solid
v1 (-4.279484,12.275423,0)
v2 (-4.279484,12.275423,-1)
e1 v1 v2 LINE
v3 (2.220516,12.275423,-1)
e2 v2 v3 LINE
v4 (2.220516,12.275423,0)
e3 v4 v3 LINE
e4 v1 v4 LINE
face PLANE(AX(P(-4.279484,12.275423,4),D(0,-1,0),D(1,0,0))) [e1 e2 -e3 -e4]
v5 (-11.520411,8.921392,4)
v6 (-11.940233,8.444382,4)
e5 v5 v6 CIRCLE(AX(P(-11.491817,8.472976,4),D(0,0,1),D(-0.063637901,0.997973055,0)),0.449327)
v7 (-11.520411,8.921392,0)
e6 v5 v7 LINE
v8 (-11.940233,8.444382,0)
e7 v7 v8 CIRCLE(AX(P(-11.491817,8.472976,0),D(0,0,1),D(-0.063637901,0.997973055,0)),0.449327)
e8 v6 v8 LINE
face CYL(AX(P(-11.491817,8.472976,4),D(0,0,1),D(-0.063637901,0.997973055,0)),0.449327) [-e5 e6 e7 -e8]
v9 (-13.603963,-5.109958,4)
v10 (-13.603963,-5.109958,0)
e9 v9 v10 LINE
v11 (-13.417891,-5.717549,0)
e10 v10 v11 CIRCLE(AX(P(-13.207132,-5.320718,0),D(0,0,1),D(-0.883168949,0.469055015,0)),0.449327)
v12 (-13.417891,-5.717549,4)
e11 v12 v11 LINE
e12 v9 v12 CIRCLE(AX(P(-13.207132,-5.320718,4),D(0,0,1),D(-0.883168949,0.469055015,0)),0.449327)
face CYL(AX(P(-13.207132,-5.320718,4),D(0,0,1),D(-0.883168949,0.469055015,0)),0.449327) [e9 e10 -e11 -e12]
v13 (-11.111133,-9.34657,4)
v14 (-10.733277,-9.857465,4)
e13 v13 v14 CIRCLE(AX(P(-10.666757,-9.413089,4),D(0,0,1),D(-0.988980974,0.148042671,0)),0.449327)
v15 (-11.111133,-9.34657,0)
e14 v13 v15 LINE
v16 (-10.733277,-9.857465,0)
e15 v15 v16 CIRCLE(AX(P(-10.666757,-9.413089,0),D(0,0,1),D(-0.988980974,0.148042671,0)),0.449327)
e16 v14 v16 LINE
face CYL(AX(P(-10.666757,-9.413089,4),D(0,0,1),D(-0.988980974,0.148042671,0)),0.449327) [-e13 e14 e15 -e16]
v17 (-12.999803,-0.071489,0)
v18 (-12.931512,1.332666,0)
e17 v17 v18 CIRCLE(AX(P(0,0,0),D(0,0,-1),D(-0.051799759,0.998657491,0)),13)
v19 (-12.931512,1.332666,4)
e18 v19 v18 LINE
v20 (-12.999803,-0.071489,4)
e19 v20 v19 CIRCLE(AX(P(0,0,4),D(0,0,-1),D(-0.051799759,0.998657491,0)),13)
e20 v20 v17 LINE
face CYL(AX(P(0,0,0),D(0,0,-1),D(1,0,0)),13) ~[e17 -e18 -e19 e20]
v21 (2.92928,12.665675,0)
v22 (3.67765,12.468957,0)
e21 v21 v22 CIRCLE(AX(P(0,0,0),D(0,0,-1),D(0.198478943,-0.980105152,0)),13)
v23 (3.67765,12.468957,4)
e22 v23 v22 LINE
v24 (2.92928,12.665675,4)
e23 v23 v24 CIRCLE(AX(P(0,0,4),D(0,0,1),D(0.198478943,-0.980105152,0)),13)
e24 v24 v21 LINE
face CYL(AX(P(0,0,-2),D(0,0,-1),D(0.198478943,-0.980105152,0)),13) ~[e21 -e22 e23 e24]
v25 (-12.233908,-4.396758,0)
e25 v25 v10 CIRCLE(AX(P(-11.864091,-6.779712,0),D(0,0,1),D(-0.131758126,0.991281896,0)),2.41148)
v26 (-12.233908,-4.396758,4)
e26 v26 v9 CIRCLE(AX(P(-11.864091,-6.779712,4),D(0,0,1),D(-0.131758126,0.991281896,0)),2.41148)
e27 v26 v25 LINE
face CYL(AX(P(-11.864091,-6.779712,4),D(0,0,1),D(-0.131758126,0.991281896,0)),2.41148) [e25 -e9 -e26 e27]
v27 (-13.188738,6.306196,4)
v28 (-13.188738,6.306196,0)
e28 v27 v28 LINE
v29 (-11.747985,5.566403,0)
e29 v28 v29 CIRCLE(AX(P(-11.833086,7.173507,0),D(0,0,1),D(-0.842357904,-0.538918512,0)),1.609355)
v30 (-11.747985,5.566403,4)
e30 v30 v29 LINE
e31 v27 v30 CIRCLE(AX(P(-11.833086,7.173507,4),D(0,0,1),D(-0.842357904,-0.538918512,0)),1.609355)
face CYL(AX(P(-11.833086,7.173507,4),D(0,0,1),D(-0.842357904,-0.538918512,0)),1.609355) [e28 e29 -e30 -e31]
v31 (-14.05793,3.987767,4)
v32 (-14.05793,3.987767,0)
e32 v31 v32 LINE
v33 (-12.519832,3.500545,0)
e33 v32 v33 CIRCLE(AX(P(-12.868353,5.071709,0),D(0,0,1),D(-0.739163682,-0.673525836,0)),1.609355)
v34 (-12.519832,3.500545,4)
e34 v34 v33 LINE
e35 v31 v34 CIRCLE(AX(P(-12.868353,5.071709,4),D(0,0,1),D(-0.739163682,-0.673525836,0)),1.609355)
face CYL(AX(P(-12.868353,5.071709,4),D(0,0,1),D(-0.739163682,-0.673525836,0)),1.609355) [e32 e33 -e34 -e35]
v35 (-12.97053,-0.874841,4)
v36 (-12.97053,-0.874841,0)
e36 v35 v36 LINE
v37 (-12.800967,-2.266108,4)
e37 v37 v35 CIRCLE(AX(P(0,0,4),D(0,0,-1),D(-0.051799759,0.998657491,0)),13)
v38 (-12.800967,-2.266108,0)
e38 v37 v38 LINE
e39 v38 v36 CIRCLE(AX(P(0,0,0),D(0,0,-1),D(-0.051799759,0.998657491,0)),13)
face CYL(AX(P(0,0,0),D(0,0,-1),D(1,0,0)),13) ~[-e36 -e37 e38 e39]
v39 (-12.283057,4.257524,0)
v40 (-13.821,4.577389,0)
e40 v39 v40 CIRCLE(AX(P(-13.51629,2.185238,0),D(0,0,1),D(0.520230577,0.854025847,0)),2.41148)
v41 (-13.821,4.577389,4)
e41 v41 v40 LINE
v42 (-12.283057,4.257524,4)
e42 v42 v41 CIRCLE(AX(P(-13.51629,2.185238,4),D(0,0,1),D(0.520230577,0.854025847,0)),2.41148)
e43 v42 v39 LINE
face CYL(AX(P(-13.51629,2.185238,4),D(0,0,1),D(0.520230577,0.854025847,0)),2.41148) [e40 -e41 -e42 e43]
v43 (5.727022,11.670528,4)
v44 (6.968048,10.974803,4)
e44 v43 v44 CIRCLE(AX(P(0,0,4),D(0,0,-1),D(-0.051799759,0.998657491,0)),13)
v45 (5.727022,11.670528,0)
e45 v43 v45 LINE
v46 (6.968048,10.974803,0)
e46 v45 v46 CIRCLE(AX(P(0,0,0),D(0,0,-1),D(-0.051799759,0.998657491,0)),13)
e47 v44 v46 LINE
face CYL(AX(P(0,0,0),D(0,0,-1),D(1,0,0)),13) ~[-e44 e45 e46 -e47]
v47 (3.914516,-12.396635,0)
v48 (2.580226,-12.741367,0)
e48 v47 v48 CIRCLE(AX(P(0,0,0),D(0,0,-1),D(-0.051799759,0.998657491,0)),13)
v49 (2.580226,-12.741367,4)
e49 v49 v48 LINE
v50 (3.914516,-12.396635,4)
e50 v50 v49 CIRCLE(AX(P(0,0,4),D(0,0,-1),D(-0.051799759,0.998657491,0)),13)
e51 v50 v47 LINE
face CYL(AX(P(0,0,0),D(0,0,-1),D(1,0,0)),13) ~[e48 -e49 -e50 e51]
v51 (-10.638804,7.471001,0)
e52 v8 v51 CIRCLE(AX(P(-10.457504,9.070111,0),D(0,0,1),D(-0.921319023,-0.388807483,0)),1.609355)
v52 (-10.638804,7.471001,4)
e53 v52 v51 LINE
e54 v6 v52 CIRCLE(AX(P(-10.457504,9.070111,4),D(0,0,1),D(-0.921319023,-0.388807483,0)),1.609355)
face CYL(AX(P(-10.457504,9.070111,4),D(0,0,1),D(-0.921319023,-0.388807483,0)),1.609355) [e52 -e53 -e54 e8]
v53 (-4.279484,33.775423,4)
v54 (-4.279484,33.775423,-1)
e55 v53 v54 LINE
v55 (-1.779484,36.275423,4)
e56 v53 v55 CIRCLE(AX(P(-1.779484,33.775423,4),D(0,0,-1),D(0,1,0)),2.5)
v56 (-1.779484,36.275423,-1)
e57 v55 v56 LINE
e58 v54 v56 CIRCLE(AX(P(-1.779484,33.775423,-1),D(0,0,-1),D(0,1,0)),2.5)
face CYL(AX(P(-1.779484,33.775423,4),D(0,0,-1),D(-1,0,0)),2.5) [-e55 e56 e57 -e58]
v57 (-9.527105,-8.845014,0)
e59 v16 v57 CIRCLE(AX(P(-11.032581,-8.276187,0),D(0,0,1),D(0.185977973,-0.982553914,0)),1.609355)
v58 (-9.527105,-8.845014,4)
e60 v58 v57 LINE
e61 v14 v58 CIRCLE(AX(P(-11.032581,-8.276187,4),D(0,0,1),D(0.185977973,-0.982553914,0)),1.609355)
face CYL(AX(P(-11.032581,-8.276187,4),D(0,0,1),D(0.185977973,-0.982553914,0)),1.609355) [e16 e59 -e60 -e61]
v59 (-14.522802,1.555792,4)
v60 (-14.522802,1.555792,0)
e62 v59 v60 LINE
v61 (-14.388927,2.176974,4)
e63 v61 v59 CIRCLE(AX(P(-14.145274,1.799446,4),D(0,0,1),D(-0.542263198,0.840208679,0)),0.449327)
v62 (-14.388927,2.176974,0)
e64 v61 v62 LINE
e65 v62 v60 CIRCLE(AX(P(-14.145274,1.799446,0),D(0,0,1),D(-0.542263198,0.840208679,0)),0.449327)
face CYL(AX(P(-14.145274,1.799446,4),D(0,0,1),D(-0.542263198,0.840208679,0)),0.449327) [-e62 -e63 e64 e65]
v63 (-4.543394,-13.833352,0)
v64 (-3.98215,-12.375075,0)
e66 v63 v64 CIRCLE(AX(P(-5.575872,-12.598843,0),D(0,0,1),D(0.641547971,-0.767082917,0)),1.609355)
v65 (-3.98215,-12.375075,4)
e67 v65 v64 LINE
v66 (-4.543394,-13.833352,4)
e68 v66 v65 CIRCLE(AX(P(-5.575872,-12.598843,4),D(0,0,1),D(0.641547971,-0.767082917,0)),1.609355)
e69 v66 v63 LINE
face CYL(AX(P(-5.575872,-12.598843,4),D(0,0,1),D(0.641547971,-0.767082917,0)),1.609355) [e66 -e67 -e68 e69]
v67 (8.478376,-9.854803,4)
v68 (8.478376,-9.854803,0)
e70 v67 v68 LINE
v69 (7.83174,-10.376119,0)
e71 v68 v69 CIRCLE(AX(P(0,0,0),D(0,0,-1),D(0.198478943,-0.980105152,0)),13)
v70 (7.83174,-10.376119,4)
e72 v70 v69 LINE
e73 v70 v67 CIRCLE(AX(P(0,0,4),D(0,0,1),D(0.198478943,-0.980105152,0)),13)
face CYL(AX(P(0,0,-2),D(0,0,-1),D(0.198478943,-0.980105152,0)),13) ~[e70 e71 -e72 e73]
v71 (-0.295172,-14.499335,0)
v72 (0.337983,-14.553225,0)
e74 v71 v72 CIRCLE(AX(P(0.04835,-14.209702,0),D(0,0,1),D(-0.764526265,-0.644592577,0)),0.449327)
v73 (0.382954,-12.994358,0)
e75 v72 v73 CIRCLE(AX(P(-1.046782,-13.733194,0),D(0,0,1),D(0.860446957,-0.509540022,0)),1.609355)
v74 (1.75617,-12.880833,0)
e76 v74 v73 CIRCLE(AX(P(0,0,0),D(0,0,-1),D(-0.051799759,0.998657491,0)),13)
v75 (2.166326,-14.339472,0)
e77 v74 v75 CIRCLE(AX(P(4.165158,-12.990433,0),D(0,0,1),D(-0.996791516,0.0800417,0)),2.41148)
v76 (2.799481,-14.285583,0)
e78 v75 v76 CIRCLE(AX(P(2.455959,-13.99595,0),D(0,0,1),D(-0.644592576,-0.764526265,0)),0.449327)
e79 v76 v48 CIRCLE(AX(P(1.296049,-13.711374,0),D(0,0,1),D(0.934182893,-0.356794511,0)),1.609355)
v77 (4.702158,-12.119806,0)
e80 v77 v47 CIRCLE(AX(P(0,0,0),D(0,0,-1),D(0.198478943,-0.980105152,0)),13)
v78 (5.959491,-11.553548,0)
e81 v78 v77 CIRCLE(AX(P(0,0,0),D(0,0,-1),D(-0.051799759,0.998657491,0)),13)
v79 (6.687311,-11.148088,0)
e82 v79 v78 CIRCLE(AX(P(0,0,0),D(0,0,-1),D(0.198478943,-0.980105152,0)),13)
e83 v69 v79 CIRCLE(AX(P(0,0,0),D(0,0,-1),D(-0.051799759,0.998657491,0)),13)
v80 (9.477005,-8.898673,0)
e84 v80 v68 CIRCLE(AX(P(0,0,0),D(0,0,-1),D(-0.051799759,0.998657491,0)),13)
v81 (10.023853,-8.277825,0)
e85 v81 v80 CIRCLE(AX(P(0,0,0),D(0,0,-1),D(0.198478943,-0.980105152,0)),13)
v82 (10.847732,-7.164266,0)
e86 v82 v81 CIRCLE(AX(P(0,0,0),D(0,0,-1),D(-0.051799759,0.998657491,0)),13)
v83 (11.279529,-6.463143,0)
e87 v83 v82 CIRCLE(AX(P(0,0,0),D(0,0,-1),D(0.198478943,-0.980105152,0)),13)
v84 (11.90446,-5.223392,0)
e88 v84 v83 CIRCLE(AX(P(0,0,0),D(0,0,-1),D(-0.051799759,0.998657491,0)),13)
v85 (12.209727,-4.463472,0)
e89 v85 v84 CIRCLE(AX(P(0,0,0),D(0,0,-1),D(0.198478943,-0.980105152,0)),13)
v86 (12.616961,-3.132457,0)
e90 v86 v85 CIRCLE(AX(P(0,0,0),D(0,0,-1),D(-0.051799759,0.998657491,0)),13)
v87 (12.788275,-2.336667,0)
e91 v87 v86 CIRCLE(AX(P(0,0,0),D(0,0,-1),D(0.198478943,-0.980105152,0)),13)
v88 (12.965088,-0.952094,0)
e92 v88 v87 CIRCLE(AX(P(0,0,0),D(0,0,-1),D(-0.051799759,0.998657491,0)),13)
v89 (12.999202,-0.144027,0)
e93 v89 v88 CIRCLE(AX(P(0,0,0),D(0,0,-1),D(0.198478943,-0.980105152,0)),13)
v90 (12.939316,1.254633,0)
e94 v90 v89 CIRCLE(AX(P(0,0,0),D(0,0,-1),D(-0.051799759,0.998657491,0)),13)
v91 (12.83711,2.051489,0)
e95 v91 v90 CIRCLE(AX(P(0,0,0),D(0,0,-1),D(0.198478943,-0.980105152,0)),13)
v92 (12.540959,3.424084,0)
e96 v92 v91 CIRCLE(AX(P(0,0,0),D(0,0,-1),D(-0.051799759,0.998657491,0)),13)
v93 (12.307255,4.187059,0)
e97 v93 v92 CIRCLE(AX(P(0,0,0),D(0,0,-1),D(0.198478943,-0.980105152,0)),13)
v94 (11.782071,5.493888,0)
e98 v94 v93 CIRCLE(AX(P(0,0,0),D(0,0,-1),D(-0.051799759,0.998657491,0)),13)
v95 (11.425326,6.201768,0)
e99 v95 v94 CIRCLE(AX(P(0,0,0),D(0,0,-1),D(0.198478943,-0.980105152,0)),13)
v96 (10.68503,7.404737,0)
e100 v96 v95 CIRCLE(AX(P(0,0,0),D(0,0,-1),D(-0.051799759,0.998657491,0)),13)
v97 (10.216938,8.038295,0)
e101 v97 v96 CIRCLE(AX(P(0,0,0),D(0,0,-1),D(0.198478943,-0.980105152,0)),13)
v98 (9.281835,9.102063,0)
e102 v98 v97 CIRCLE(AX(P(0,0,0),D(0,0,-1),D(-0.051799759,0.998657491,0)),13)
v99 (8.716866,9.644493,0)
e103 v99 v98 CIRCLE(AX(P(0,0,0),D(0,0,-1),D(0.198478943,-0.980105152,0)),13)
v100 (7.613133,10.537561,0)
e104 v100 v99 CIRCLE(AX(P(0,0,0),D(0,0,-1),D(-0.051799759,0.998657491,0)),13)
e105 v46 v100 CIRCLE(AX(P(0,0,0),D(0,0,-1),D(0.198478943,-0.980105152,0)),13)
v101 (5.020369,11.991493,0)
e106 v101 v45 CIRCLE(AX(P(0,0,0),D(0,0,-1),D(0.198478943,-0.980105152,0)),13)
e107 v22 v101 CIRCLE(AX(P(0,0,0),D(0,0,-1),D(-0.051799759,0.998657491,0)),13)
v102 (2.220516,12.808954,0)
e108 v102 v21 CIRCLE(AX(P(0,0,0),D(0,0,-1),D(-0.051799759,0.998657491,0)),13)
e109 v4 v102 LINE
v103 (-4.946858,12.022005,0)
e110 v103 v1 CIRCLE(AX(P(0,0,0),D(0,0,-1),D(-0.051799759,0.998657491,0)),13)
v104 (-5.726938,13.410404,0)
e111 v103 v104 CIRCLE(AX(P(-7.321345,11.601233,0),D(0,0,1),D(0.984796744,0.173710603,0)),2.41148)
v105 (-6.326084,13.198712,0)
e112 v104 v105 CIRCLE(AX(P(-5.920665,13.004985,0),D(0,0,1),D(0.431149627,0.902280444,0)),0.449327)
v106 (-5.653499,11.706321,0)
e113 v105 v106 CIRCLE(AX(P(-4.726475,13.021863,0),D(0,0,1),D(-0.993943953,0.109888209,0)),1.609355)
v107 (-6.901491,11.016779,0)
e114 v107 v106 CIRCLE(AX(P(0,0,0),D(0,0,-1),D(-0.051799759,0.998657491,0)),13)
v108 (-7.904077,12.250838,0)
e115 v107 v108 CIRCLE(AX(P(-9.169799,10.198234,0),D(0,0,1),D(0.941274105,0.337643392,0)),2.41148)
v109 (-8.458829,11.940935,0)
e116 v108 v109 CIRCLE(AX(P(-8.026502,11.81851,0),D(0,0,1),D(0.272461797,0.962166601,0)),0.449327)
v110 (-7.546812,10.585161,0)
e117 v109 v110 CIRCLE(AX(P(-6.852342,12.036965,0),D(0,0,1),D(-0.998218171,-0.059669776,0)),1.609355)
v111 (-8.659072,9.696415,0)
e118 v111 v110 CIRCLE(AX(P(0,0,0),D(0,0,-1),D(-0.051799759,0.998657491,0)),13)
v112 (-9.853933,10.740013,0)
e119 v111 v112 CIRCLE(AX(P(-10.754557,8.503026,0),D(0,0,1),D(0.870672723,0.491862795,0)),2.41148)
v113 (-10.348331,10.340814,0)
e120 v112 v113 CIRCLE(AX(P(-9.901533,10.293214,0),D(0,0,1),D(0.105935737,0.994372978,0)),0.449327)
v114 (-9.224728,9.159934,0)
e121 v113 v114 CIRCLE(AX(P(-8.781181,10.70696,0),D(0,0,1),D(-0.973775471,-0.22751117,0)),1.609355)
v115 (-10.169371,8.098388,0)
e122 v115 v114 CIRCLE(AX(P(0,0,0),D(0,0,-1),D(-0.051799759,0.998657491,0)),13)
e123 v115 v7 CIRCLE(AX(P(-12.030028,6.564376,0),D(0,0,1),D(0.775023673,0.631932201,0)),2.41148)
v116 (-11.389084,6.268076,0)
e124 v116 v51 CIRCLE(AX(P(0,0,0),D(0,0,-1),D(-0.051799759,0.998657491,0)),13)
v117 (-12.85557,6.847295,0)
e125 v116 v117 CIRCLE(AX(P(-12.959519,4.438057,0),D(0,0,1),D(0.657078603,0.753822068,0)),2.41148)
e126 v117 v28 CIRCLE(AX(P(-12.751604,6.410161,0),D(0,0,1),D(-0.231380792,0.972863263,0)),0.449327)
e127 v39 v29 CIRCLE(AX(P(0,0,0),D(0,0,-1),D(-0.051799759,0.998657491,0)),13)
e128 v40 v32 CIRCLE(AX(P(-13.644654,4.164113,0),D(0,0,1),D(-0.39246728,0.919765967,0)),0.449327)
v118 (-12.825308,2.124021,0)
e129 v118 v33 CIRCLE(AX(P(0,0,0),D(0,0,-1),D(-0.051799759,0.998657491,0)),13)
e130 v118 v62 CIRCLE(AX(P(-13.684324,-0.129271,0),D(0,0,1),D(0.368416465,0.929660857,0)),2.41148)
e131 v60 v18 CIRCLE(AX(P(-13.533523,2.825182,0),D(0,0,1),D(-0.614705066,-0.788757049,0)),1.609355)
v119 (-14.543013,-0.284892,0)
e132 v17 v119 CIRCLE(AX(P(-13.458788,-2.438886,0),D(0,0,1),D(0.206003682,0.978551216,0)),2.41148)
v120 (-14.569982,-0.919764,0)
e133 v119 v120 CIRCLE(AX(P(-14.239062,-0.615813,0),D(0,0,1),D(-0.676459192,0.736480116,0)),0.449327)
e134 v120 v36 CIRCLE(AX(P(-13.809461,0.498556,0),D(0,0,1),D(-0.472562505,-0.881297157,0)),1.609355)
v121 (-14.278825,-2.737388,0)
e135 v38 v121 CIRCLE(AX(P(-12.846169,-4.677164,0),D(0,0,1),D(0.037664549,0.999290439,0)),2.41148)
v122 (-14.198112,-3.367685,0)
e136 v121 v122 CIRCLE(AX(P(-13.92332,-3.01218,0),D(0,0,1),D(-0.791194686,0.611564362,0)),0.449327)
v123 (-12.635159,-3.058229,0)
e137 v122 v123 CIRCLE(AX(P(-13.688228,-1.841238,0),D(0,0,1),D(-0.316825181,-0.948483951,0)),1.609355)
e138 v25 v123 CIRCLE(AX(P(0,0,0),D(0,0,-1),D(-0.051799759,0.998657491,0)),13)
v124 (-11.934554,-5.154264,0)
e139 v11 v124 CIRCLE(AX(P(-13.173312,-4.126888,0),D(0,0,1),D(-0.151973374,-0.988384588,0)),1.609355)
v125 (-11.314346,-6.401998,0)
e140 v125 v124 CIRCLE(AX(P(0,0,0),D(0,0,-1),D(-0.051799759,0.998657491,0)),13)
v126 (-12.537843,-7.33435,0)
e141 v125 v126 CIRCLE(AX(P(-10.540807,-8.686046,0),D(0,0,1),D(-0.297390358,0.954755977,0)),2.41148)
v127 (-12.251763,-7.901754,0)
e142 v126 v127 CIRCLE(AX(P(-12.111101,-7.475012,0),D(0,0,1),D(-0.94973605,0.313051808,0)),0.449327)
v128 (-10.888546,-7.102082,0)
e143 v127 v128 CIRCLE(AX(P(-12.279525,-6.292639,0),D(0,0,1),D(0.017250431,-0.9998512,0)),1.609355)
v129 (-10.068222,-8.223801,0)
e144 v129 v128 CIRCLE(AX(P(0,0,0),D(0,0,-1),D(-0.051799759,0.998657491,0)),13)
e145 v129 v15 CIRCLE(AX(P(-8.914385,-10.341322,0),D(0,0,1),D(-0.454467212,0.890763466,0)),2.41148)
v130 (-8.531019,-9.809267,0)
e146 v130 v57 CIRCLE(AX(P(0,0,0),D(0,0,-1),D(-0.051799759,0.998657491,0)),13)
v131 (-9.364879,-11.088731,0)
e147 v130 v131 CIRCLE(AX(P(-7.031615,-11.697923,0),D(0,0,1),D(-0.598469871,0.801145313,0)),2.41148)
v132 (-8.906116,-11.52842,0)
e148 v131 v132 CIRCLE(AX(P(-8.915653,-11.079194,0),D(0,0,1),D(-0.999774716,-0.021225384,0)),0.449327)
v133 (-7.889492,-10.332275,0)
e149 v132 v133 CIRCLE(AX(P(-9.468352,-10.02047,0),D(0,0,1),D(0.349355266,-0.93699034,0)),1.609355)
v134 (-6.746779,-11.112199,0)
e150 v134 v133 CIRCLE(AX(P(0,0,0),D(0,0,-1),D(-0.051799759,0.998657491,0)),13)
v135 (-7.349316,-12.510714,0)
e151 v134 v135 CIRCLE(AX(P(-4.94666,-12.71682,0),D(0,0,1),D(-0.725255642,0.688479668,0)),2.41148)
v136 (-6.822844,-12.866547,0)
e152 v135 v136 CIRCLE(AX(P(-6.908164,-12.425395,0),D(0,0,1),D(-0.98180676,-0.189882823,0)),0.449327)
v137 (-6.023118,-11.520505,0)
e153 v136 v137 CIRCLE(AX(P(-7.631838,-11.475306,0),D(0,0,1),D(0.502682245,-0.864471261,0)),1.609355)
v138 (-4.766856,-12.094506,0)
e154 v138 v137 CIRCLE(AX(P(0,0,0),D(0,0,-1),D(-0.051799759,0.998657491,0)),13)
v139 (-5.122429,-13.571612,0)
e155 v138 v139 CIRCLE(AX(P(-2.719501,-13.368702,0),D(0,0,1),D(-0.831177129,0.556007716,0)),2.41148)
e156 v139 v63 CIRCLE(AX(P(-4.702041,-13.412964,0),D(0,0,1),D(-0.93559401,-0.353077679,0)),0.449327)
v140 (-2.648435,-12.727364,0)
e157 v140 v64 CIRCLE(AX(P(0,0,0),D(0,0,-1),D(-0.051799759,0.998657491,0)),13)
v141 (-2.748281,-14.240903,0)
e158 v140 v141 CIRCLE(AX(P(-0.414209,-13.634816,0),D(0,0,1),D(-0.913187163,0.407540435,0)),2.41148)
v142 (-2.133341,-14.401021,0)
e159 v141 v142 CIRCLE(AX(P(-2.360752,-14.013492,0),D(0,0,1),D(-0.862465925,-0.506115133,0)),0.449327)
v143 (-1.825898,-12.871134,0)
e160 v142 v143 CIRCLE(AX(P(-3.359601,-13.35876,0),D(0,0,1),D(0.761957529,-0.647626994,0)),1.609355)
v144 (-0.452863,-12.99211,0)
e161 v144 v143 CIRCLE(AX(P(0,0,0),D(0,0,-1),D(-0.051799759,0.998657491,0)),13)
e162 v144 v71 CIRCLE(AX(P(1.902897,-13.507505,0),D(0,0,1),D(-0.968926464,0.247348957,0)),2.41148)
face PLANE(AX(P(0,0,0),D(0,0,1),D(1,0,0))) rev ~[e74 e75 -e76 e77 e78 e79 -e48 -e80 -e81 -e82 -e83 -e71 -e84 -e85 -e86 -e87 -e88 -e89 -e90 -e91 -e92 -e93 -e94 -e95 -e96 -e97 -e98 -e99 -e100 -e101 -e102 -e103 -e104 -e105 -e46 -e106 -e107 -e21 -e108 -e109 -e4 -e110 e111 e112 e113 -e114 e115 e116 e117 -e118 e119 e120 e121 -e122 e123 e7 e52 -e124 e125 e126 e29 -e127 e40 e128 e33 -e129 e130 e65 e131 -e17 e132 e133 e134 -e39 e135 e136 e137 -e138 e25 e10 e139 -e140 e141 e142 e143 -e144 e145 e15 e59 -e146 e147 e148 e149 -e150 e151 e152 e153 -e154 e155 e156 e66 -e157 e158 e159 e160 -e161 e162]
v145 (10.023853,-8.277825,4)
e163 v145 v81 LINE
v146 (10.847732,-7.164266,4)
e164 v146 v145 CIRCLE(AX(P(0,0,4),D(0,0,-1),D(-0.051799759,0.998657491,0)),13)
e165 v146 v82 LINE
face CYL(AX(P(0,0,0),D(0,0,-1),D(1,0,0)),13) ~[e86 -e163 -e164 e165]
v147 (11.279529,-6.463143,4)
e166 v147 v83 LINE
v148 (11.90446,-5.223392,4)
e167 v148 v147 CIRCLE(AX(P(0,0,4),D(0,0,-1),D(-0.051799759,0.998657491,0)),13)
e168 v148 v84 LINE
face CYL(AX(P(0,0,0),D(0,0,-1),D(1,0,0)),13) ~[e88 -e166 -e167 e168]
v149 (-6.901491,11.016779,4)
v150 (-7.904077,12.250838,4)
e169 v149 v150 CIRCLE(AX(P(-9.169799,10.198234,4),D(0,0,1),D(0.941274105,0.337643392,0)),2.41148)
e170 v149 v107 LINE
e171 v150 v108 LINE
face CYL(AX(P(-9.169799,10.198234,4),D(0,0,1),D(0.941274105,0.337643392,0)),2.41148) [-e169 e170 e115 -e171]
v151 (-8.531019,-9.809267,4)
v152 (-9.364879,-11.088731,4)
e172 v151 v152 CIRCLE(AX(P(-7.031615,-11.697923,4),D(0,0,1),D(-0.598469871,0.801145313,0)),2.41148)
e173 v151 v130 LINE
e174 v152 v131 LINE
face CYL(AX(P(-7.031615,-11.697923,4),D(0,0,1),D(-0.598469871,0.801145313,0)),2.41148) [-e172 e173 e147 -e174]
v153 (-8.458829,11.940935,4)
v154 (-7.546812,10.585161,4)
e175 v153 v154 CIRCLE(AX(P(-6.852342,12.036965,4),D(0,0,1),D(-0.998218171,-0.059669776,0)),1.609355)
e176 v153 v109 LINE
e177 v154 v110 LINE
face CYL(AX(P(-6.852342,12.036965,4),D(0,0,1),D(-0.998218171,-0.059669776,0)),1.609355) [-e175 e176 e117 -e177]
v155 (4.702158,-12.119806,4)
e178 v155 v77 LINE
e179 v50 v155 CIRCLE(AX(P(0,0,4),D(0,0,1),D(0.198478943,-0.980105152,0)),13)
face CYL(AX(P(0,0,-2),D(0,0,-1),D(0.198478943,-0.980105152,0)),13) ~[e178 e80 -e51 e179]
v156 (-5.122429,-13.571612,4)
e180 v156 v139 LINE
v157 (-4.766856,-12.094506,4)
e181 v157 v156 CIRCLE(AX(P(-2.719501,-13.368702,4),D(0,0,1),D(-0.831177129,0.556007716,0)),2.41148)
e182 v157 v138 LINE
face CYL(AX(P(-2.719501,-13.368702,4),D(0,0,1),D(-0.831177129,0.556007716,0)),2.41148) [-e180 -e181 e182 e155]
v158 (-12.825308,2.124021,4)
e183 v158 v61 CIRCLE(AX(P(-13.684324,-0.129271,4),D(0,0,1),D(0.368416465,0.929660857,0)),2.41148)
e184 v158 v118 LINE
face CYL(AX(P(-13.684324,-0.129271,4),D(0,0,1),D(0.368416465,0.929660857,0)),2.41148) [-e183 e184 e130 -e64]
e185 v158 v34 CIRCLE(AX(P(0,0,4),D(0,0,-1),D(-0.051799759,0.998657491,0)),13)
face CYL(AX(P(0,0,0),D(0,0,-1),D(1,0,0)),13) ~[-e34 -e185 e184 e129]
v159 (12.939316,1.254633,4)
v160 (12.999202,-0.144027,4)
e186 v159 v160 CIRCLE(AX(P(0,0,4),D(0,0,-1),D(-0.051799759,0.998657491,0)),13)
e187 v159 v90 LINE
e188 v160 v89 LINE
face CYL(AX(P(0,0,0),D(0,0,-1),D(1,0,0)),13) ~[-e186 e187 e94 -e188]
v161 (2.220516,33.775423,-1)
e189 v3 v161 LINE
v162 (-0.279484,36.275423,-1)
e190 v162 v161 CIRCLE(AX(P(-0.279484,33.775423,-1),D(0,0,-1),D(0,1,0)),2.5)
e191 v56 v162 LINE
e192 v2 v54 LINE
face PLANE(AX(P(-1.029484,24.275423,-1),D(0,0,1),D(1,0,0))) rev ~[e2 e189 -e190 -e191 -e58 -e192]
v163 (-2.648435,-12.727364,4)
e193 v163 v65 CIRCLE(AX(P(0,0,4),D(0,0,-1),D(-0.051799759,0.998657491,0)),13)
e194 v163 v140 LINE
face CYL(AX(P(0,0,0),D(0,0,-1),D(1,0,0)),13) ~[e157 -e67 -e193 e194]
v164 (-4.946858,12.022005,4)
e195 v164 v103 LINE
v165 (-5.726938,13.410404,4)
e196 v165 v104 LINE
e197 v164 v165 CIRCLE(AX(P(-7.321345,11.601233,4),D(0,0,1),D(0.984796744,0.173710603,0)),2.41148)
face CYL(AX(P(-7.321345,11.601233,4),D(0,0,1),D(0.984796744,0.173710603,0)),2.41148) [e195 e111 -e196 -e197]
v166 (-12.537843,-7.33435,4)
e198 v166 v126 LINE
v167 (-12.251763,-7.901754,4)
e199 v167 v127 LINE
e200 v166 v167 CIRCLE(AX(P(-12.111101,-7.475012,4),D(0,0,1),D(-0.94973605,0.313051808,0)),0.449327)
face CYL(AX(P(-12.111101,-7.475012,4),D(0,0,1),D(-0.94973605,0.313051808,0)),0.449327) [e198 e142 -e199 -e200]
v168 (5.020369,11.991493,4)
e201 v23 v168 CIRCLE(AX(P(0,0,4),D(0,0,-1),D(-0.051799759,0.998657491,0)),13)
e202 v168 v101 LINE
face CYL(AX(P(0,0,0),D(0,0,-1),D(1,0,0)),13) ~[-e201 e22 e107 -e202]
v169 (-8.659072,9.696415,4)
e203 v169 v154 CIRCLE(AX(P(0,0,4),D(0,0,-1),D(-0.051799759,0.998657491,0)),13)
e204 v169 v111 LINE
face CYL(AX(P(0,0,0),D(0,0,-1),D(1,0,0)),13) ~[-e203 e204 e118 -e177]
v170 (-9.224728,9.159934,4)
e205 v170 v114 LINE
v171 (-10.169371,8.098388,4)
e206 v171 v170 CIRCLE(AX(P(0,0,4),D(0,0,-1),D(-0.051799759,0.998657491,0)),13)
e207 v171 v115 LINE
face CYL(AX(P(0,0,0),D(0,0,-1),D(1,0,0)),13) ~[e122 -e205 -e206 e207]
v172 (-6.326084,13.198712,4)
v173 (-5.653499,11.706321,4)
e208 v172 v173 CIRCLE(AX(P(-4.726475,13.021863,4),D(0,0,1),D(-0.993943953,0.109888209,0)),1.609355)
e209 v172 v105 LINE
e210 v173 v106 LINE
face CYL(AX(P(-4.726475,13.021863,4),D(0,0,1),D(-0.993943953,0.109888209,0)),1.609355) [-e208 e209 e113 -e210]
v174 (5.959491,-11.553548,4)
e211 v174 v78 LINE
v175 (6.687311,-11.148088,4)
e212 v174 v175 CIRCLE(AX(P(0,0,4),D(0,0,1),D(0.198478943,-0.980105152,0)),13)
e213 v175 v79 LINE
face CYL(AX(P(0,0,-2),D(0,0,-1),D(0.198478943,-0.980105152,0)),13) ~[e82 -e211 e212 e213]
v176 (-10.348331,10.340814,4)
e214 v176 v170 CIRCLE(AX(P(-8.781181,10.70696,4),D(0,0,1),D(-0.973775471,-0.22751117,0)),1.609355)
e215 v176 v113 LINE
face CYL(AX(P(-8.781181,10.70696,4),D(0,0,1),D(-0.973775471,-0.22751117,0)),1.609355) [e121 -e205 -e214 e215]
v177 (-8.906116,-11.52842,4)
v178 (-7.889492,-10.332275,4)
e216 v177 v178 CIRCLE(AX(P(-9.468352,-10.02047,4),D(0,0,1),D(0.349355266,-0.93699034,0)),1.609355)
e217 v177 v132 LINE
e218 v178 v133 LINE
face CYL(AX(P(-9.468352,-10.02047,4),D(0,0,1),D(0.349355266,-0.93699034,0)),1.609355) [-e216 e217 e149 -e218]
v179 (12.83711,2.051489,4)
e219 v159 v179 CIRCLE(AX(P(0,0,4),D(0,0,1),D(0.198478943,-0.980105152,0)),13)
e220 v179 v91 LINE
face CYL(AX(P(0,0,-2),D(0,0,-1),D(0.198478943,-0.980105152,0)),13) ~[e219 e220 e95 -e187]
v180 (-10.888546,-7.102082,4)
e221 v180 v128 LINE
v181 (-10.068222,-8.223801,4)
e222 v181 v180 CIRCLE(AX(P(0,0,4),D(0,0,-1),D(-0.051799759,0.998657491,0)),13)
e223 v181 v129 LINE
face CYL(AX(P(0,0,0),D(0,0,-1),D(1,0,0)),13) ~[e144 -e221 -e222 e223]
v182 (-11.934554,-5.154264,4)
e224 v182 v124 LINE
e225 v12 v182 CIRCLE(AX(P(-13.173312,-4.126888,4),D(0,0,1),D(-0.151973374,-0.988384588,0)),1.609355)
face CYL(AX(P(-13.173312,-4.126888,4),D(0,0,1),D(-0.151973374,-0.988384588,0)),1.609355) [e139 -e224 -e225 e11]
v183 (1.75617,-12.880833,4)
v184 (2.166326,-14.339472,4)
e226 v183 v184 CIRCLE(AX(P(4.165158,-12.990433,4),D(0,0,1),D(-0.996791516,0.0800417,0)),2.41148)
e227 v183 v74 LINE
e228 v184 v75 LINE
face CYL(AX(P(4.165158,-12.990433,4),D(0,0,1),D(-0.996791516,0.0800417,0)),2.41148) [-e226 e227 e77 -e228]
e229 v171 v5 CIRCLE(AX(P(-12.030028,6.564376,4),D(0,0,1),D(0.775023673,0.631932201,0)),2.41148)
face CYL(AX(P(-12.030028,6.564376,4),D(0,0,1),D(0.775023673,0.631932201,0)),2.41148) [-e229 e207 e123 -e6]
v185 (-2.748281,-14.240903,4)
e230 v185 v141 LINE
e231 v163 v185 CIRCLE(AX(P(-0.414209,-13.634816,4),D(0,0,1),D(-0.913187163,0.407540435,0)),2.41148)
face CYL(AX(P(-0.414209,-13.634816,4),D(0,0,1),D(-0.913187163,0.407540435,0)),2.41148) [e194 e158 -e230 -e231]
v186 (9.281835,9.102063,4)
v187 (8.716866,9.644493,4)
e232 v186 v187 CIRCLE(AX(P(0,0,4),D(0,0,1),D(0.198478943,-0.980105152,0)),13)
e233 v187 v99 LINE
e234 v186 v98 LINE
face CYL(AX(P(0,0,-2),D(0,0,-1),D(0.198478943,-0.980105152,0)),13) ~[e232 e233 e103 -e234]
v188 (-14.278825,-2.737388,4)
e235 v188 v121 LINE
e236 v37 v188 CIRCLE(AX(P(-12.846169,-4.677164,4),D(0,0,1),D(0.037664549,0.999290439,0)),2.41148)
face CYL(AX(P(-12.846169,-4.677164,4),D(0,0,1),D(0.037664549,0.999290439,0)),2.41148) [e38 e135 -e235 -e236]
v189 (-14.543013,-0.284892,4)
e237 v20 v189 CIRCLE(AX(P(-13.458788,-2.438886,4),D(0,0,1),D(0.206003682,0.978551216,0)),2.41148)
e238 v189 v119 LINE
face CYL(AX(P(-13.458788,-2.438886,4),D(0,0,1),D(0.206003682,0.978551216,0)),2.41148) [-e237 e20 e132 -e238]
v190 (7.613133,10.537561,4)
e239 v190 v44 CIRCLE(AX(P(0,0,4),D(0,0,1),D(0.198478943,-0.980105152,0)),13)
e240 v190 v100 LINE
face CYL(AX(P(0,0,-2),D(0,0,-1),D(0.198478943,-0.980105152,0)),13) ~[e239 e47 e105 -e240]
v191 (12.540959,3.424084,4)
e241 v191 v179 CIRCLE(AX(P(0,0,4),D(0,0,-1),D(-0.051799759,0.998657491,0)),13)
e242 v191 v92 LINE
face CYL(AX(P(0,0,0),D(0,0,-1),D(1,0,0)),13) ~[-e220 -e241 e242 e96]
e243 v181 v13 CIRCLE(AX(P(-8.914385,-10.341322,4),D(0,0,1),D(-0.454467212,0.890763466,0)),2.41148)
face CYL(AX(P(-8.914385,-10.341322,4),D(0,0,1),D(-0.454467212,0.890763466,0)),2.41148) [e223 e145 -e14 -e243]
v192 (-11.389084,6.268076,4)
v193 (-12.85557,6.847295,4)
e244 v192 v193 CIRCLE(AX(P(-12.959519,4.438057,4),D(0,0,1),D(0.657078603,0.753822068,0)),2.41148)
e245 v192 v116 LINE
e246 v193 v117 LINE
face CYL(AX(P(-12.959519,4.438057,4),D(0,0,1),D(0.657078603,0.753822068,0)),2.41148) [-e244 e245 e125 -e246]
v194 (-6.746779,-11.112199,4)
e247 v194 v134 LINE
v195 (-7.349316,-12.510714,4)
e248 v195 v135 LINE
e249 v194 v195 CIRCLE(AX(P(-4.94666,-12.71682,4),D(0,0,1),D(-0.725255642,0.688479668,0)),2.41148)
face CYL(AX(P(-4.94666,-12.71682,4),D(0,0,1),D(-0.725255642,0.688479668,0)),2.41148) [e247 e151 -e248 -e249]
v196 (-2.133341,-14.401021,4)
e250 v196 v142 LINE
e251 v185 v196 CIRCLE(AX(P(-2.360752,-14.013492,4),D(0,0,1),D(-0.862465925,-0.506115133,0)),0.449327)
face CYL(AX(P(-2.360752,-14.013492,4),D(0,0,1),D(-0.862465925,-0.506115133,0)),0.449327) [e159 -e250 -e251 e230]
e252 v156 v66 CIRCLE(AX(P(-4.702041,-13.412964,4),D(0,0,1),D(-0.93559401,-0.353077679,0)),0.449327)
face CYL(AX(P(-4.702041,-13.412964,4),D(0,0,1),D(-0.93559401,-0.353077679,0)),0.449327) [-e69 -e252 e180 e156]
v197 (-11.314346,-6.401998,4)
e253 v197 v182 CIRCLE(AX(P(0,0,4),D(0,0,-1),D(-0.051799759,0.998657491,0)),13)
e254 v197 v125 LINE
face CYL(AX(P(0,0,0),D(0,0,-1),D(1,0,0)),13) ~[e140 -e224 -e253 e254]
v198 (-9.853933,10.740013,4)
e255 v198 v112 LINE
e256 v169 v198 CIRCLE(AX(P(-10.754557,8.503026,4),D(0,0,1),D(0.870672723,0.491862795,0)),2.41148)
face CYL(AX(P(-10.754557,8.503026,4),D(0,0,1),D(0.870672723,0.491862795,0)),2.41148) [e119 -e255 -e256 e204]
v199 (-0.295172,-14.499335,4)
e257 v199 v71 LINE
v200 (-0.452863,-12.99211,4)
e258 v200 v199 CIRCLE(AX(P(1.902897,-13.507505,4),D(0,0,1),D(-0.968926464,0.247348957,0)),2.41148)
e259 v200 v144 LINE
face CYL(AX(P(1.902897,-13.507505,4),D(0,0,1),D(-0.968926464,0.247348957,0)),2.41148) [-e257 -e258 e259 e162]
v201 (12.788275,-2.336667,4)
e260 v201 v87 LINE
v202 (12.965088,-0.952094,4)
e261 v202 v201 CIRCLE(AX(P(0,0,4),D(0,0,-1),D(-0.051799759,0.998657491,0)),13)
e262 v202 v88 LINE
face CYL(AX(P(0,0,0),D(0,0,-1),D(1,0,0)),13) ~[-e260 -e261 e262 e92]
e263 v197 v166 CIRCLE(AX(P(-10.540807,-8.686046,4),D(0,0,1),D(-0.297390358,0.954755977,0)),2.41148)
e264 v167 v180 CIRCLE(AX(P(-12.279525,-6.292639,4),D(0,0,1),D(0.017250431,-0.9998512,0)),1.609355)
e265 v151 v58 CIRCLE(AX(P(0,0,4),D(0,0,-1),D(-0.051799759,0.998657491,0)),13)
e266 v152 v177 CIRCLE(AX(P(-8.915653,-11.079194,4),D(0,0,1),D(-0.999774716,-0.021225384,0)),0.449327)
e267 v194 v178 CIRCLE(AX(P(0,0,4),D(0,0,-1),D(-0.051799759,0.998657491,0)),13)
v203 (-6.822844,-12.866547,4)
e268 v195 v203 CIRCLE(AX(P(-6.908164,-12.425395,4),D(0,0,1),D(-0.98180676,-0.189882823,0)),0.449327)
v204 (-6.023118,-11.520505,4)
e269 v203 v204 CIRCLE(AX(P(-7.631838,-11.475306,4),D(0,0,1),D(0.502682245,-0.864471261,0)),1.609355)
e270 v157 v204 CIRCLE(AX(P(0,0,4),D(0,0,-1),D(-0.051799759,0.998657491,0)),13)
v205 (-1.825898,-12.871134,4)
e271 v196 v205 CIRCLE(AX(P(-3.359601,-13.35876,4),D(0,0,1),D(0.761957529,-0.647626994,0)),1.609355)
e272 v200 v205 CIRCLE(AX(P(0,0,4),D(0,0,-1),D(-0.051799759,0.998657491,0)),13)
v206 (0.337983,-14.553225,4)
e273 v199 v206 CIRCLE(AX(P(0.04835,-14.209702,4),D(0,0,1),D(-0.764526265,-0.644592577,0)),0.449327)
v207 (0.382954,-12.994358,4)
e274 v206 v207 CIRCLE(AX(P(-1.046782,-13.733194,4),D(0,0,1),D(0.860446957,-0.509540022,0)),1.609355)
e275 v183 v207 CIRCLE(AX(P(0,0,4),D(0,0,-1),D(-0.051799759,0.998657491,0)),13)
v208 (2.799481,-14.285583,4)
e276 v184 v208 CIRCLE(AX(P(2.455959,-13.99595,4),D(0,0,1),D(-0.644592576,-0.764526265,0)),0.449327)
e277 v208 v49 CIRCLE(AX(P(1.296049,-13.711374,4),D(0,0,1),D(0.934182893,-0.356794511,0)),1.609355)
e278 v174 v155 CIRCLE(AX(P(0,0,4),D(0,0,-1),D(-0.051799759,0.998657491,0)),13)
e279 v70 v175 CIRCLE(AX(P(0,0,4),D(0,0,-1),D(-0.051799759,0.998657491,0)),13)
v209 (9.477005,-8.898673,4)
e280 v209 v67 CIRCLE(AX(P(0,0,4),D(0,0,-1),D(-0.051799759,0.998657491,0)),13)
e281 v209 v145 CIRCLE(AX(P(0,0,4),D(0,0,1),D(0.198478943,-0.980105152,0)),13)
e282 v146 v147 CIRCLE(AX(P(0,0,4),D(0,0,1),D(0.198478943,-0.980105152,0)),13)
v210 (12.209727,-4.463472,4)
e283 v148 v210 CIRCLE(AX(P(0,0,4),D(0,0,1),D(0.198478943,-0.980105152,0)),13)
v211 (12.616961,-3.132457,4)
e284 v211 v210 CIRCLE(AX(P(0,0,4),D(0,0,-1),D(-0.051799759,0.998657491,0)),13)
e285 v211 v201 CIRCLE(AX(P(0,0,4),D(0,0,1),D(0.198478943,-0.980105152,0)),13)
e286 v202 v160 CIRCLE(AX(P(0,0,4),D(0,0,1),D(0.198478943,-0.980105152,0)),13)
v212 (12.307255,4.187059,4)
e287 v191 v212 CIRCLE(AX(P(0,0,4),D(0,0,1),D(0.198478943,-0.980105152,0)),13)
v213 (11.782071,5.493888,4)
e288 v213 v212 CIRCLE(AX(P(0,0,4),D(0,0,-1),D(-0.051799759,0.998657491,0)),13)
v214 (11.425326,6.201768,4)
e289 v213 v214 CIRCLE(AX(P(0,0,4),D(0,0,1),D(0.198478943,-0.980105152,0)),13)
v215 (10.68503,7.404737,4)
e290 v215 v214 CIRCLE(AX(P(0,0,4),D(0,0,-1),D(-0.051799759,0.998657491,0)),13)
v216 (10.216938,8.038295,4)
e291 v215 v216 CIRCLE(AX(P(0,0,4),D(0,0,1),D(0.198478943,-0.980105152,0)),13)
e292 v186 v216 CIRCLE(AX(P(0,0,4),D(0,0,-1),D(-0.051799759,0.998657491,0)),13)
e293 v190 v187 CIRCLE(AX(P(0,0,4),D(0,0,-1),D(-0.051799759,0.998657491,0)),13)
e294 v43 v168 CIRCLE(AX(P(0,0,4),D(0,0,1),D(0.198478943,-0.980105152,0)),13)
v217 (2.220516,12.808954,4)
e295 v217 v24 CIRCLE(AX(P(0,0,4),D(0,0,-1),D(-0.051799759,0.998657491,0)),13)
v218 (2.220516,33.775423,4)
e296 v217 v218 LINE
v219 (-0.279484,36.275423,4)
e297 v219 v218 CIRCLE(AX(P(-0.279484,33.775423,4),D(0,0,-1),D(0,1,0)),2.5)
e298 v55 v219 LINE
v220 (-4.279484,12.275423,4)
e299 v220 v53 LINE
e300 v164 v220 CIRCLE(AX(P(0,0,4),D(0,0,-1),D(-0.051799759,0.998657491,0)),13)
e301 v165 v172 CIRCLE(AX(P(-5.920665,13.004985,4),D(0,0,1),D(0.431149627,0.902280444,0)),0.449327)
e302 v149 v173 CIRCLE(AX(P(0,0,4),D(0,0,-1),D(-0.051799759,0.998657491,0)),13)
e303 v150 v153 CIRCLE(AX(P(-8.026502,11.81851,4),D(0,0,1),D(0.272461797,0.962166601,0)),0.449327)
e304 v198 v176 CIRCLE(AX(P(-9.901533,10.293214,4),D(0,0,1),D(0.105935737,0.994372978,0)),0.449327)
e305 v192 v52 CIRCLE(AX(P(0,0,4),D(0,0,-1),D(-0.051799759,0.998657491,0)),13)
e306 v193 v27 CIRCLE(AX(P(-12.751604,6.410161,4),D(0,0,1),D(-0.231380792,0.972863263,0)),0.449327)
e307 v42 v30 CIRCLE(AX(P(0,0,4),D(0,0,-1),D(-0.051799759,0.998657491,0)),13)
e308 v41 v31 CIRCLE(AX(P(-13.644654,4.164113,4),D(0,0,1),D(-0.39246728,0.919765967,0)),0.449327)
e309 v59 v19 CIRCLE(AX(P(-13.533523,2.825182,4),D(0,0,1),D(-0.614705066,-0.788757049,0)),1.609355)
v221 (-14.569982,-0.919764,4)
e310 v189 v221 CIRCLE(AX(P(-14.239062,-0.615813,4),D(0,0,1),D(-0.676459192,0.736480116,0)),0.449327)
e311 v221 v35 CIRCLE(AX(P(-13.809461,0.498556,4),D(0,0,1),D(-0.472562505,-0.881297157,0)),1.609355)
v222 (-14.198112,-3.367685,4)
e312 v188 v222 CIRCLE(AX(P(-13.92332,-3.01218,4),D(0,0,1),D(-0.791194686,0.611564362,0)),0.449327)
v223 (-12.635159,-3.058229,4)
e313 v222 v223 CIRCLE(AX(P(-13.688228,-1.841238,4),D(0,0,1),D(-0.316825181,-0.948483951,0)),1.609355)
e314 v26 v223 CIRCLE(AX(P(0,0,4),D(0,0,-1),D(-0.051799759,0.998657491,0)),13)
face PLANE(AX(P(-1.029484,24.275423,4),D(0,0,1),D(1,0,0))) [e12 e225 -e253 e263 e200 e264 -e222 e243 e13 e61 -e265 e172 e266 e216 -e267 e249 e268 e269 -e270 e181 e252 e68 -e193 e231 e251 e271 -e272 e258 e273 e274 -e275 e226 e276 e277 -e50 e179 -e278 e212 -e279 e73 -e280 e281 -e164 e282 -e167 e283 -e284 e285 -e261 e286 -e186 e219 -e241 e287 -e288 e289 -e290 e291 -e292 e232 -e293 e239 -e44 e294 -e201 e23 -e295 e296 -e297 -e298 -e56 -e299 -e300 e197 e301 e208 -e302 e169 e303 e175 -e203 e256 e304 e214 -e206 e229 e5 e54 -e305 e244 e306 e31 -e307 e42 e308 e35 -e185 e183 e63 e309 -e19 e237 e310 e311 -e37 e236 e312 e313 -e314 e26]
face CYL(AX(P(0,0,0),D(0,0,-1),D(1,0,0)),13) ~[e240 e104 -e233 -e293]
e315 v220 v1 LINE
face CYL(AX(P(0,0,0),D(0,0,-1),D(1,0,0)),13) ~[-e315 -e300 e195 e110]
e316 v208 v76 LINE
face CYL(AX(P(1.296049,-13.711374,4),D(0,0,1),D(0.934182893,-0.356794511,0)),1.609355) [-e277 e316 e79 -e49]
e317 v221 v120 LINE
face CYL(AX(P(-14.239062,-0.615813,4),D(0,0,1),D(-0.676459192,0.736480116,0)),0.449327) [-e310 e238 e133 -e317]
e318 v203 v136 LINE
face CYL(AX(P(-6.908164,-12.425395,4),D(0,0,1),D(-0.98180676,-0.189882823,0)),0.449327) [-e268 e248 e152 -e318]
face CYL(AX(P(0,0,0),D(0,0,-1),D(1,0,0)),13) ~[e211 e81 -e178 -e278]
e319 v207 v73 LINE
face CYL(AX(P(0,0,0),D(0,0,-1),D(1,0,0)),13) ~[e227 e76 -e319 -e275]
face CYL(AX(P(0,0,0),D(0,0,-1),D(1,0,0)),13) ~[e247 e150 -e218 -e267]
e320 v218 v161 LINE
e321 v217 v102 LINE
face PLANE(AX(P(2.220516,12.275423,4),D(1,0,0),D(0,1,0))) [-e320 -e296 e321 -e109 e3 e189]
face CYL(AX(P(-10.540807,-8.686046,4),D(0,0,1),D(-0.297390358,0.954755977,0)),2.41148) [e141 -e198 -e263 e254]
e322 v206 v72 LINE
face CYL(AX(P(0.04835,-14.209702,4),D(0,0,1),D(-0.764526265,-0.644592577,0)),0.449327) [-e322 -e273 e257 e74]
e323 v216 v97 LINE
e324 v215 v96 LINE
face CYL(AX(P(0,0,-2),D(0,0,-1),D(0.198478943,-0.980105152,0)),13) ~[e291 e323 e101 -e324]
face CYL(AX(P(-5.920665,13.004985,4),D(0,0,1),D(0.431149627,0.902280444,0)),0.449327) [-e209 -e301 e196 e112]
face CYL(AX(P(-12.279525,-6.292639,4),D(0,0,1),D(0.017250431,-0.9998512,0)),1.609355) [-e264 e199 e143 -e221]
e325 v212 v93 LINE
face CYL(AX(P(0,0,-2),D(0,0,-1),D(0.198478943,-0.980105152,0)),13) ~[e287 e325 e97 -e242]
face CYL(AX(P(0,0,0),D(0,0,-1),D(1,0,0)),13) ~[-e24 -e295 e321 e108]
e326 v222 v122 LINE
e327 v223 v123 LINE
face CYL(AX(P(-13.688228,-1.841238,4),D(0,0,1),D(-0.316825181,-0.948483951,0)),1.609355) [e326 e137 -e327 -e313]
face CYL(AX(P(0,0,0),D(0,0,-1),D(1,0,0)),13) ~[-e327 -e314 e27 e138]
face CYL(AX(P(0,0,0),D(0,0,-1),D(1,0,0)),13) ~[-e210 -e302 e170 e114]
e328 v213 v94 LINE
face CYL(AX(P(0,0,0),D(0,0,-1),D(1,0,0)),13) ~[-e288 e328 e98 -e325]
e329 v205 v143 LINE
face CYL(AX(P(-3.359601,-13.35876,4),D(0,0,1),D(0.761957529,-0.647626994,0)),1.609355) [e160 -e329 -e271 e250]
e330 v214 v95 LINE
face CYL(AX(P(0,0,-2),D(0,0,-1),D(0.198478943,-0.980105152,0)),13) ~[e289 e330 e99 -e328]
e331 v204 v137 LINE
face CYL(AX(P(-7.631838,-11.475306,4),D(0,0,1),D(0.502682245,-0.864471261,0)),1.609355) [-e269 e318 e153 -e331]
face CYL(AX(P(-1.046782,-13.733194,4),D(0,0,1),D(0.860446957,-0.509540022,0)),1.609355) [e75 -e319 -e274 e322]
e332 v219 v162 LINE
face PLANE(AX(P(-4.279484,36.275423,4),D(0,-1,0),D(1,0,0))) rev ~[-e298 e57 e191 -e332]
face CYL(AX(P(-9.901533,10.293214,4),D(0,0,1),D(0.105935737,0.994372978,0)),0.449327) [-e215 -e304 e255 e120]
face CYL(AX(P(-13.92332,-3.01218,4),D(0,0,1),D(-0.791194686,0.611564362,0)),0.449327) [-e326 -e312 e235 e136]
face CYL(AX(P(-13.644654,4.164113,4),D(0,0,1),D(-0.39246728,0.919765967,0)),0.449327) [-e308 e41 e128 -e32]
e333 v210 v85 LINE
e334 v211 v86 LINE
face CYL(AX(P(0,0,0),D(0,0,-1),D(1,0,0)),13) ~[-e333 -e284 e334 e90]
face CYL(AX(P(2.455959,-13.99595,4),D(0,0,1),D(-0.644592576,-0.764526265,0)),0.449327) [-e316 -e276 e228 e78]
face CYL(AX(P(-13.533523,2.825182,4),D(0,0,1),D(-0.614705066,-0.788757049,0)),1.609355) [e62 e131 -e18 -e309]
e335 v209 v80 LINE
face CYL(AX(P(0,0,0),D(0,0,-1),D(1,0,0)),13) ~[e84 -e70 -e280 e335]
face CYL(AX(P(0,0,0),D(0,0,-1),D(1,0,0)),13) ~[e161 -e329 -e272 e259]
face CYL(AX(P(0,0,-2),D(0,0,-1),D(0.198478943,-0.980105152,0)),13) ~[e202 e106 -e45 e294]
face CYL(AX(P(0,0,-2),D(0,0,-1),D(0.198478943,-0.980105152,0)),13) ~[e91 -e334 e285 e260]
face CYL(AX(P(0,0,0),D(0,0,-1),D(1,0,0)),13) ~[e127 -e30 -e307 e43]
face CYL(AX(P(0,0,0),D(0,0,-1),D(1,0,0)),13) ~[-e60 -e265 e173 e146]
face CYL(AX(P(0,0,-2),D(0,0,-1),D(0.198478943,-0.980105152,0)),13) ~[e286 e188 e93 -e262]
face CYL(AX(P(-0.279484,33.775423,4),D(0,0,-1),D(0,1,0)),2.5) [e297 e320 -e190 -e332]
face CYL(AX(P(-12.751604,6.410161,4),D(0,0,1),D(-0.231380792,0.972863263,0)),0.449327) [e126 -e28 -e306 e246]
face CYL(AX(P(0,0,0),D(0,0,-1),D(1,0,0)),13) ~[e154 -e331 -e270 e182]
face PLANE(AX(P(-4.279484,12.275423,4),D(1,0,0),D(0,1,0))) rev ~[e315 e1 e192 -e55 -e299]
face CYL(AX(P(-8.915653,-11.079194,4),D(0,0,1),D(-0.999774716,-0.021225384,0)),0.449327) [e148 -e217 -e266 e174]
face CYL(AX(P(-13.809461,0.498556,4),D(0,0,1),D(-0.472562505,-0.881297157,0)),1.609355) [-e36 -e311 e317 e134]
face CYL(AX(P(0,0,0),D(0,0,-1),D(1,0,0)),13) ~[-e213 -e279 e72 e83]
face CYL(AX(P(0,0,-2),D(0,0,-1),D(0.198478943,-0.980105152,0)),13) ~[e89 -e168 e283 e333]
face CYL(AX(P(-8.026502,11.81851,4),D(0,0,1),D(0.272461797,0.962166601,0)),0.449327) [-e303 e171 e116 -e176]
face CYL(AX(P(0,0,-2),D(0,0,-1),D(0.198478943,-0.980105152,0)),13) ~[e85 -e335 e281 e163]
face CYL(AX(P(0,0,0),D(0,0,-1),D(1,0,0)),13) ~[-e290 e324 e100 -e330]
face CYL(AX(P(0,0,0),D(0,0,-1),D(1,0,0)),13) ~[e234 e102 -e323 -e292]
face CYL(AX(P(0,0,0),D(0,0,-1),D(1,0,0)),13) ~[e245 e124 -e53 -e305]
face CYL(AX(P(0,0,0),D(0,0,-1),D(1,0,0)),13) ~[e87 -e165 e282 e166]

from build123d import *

# Parameters (mm, degrees)
SKETCH1_R           = 13
BOSS_EXTRUDE1_DEPTH = 4
BOSS_EXTRUDE2_DEPTH = 4
CIRPATTERN1_COUNT   = 37
CUT_EXTRUDE1_START  = -6
CUT_EXTRUDE1_DEPTH  = 6
SKETCH5_W           = 6.5
SKETCH5_H           = 24
BOSS_EXTRUDE3_DEPTH = 5
FILLET1_R           = 2.5


with BuildPart() as part:
    # Sketch1 → Boss-Extrude1 (new body)
    with BuildSketch(Plane.XY):
        Circle(SKETCH1_R)
    extrude(amount=BOSS_EXTRUDE1_DEPTH)

    # Sketch2 → Boss-Extrude2 (add)
    with BuildSketch(Plane.XY.offset(4)):
        with BuildLine():
            Line((-1.442756516, 12.919692475), (-0.673396871, 12.982547387))
            ThreePointArc((-0.673396871, 12.982547387), (-0.676161598, 13.791154594), (-0.946073249, 14.553388784))
            ThreePointArc((-0.946073249, 14.553388784), (-1.263795502, 14.68499365), (-1.581517754, 14.553388784))
            ThreePointArc((-1.581517754, 14.553388784), (-1.735779337, 13.717545135), (-1.442756516, 12.919692475))
        make_face()
    boss_extrude2 = extrude(amount=-BOSS_EXTRUDE2_DEPTH)

    # CirPattern1: Boss-Extrude2 ×37 about axis
    cirpattern1_axis = Axis((-0.003550518, 0.04085181, 0), (0, 0, 1))
    for i in range(1, CIRPATTERN1_COUNT):
        add(boss_extrude2.rotate(cirpattern1_axis, i * 360 / CIRPATTERN1_COUNT))

    # Sketch3 → Cut-Extrude1 (cut)
    with BuildSketch(Plane.XY.offset(4).offset(CUT_EXTRUDE1_START)):
        with BuildLine():
            ThreePointArc((2.580226265, -12.741366976), (12.998773331, -0.178582984), (2.929279614, 12.665674911))
            ThreePointArc((2.929279614, 12.665674911), (2.706489738, 14.000196281), (3.492602617, 15.101381624))
            ThreePointArc((3.492602617, 15.101381624), (15.498537433, -0.212925866), (3.076423624, -15.191629856))
            ThreePointArc((3.076423624, -15.191629856), (3.335791003, -13.863732578), (2.580226265, -12.741366976))
        make_face()
    extrude(amount=CUT_EXTRUDE1_DEPTH, mode=Mode.SUBTRACT)

    # Sketch5 → Boss-Extrude3 (add)
    with BuildSketch(Plane.XY.offset(4)):
        with Locations((-1.029483868, 24.275423326)):
            Rectangle(SKETCH5_W, SKETCH5_H)
    extrude(amount=-BOSS_EXTRUDE3_DEPTH)

    # Fillet1
    fillet1_edges = [part.edges().sort_by_distance(p)[0] for p in [
        (2.220516132, 36.275423326, 1.5),
        (-4.279483868, 36.275423326, 1.5),
    ]]
    fillet(fillet1_edges, radius=FILLET1_R)


solid = part.part
